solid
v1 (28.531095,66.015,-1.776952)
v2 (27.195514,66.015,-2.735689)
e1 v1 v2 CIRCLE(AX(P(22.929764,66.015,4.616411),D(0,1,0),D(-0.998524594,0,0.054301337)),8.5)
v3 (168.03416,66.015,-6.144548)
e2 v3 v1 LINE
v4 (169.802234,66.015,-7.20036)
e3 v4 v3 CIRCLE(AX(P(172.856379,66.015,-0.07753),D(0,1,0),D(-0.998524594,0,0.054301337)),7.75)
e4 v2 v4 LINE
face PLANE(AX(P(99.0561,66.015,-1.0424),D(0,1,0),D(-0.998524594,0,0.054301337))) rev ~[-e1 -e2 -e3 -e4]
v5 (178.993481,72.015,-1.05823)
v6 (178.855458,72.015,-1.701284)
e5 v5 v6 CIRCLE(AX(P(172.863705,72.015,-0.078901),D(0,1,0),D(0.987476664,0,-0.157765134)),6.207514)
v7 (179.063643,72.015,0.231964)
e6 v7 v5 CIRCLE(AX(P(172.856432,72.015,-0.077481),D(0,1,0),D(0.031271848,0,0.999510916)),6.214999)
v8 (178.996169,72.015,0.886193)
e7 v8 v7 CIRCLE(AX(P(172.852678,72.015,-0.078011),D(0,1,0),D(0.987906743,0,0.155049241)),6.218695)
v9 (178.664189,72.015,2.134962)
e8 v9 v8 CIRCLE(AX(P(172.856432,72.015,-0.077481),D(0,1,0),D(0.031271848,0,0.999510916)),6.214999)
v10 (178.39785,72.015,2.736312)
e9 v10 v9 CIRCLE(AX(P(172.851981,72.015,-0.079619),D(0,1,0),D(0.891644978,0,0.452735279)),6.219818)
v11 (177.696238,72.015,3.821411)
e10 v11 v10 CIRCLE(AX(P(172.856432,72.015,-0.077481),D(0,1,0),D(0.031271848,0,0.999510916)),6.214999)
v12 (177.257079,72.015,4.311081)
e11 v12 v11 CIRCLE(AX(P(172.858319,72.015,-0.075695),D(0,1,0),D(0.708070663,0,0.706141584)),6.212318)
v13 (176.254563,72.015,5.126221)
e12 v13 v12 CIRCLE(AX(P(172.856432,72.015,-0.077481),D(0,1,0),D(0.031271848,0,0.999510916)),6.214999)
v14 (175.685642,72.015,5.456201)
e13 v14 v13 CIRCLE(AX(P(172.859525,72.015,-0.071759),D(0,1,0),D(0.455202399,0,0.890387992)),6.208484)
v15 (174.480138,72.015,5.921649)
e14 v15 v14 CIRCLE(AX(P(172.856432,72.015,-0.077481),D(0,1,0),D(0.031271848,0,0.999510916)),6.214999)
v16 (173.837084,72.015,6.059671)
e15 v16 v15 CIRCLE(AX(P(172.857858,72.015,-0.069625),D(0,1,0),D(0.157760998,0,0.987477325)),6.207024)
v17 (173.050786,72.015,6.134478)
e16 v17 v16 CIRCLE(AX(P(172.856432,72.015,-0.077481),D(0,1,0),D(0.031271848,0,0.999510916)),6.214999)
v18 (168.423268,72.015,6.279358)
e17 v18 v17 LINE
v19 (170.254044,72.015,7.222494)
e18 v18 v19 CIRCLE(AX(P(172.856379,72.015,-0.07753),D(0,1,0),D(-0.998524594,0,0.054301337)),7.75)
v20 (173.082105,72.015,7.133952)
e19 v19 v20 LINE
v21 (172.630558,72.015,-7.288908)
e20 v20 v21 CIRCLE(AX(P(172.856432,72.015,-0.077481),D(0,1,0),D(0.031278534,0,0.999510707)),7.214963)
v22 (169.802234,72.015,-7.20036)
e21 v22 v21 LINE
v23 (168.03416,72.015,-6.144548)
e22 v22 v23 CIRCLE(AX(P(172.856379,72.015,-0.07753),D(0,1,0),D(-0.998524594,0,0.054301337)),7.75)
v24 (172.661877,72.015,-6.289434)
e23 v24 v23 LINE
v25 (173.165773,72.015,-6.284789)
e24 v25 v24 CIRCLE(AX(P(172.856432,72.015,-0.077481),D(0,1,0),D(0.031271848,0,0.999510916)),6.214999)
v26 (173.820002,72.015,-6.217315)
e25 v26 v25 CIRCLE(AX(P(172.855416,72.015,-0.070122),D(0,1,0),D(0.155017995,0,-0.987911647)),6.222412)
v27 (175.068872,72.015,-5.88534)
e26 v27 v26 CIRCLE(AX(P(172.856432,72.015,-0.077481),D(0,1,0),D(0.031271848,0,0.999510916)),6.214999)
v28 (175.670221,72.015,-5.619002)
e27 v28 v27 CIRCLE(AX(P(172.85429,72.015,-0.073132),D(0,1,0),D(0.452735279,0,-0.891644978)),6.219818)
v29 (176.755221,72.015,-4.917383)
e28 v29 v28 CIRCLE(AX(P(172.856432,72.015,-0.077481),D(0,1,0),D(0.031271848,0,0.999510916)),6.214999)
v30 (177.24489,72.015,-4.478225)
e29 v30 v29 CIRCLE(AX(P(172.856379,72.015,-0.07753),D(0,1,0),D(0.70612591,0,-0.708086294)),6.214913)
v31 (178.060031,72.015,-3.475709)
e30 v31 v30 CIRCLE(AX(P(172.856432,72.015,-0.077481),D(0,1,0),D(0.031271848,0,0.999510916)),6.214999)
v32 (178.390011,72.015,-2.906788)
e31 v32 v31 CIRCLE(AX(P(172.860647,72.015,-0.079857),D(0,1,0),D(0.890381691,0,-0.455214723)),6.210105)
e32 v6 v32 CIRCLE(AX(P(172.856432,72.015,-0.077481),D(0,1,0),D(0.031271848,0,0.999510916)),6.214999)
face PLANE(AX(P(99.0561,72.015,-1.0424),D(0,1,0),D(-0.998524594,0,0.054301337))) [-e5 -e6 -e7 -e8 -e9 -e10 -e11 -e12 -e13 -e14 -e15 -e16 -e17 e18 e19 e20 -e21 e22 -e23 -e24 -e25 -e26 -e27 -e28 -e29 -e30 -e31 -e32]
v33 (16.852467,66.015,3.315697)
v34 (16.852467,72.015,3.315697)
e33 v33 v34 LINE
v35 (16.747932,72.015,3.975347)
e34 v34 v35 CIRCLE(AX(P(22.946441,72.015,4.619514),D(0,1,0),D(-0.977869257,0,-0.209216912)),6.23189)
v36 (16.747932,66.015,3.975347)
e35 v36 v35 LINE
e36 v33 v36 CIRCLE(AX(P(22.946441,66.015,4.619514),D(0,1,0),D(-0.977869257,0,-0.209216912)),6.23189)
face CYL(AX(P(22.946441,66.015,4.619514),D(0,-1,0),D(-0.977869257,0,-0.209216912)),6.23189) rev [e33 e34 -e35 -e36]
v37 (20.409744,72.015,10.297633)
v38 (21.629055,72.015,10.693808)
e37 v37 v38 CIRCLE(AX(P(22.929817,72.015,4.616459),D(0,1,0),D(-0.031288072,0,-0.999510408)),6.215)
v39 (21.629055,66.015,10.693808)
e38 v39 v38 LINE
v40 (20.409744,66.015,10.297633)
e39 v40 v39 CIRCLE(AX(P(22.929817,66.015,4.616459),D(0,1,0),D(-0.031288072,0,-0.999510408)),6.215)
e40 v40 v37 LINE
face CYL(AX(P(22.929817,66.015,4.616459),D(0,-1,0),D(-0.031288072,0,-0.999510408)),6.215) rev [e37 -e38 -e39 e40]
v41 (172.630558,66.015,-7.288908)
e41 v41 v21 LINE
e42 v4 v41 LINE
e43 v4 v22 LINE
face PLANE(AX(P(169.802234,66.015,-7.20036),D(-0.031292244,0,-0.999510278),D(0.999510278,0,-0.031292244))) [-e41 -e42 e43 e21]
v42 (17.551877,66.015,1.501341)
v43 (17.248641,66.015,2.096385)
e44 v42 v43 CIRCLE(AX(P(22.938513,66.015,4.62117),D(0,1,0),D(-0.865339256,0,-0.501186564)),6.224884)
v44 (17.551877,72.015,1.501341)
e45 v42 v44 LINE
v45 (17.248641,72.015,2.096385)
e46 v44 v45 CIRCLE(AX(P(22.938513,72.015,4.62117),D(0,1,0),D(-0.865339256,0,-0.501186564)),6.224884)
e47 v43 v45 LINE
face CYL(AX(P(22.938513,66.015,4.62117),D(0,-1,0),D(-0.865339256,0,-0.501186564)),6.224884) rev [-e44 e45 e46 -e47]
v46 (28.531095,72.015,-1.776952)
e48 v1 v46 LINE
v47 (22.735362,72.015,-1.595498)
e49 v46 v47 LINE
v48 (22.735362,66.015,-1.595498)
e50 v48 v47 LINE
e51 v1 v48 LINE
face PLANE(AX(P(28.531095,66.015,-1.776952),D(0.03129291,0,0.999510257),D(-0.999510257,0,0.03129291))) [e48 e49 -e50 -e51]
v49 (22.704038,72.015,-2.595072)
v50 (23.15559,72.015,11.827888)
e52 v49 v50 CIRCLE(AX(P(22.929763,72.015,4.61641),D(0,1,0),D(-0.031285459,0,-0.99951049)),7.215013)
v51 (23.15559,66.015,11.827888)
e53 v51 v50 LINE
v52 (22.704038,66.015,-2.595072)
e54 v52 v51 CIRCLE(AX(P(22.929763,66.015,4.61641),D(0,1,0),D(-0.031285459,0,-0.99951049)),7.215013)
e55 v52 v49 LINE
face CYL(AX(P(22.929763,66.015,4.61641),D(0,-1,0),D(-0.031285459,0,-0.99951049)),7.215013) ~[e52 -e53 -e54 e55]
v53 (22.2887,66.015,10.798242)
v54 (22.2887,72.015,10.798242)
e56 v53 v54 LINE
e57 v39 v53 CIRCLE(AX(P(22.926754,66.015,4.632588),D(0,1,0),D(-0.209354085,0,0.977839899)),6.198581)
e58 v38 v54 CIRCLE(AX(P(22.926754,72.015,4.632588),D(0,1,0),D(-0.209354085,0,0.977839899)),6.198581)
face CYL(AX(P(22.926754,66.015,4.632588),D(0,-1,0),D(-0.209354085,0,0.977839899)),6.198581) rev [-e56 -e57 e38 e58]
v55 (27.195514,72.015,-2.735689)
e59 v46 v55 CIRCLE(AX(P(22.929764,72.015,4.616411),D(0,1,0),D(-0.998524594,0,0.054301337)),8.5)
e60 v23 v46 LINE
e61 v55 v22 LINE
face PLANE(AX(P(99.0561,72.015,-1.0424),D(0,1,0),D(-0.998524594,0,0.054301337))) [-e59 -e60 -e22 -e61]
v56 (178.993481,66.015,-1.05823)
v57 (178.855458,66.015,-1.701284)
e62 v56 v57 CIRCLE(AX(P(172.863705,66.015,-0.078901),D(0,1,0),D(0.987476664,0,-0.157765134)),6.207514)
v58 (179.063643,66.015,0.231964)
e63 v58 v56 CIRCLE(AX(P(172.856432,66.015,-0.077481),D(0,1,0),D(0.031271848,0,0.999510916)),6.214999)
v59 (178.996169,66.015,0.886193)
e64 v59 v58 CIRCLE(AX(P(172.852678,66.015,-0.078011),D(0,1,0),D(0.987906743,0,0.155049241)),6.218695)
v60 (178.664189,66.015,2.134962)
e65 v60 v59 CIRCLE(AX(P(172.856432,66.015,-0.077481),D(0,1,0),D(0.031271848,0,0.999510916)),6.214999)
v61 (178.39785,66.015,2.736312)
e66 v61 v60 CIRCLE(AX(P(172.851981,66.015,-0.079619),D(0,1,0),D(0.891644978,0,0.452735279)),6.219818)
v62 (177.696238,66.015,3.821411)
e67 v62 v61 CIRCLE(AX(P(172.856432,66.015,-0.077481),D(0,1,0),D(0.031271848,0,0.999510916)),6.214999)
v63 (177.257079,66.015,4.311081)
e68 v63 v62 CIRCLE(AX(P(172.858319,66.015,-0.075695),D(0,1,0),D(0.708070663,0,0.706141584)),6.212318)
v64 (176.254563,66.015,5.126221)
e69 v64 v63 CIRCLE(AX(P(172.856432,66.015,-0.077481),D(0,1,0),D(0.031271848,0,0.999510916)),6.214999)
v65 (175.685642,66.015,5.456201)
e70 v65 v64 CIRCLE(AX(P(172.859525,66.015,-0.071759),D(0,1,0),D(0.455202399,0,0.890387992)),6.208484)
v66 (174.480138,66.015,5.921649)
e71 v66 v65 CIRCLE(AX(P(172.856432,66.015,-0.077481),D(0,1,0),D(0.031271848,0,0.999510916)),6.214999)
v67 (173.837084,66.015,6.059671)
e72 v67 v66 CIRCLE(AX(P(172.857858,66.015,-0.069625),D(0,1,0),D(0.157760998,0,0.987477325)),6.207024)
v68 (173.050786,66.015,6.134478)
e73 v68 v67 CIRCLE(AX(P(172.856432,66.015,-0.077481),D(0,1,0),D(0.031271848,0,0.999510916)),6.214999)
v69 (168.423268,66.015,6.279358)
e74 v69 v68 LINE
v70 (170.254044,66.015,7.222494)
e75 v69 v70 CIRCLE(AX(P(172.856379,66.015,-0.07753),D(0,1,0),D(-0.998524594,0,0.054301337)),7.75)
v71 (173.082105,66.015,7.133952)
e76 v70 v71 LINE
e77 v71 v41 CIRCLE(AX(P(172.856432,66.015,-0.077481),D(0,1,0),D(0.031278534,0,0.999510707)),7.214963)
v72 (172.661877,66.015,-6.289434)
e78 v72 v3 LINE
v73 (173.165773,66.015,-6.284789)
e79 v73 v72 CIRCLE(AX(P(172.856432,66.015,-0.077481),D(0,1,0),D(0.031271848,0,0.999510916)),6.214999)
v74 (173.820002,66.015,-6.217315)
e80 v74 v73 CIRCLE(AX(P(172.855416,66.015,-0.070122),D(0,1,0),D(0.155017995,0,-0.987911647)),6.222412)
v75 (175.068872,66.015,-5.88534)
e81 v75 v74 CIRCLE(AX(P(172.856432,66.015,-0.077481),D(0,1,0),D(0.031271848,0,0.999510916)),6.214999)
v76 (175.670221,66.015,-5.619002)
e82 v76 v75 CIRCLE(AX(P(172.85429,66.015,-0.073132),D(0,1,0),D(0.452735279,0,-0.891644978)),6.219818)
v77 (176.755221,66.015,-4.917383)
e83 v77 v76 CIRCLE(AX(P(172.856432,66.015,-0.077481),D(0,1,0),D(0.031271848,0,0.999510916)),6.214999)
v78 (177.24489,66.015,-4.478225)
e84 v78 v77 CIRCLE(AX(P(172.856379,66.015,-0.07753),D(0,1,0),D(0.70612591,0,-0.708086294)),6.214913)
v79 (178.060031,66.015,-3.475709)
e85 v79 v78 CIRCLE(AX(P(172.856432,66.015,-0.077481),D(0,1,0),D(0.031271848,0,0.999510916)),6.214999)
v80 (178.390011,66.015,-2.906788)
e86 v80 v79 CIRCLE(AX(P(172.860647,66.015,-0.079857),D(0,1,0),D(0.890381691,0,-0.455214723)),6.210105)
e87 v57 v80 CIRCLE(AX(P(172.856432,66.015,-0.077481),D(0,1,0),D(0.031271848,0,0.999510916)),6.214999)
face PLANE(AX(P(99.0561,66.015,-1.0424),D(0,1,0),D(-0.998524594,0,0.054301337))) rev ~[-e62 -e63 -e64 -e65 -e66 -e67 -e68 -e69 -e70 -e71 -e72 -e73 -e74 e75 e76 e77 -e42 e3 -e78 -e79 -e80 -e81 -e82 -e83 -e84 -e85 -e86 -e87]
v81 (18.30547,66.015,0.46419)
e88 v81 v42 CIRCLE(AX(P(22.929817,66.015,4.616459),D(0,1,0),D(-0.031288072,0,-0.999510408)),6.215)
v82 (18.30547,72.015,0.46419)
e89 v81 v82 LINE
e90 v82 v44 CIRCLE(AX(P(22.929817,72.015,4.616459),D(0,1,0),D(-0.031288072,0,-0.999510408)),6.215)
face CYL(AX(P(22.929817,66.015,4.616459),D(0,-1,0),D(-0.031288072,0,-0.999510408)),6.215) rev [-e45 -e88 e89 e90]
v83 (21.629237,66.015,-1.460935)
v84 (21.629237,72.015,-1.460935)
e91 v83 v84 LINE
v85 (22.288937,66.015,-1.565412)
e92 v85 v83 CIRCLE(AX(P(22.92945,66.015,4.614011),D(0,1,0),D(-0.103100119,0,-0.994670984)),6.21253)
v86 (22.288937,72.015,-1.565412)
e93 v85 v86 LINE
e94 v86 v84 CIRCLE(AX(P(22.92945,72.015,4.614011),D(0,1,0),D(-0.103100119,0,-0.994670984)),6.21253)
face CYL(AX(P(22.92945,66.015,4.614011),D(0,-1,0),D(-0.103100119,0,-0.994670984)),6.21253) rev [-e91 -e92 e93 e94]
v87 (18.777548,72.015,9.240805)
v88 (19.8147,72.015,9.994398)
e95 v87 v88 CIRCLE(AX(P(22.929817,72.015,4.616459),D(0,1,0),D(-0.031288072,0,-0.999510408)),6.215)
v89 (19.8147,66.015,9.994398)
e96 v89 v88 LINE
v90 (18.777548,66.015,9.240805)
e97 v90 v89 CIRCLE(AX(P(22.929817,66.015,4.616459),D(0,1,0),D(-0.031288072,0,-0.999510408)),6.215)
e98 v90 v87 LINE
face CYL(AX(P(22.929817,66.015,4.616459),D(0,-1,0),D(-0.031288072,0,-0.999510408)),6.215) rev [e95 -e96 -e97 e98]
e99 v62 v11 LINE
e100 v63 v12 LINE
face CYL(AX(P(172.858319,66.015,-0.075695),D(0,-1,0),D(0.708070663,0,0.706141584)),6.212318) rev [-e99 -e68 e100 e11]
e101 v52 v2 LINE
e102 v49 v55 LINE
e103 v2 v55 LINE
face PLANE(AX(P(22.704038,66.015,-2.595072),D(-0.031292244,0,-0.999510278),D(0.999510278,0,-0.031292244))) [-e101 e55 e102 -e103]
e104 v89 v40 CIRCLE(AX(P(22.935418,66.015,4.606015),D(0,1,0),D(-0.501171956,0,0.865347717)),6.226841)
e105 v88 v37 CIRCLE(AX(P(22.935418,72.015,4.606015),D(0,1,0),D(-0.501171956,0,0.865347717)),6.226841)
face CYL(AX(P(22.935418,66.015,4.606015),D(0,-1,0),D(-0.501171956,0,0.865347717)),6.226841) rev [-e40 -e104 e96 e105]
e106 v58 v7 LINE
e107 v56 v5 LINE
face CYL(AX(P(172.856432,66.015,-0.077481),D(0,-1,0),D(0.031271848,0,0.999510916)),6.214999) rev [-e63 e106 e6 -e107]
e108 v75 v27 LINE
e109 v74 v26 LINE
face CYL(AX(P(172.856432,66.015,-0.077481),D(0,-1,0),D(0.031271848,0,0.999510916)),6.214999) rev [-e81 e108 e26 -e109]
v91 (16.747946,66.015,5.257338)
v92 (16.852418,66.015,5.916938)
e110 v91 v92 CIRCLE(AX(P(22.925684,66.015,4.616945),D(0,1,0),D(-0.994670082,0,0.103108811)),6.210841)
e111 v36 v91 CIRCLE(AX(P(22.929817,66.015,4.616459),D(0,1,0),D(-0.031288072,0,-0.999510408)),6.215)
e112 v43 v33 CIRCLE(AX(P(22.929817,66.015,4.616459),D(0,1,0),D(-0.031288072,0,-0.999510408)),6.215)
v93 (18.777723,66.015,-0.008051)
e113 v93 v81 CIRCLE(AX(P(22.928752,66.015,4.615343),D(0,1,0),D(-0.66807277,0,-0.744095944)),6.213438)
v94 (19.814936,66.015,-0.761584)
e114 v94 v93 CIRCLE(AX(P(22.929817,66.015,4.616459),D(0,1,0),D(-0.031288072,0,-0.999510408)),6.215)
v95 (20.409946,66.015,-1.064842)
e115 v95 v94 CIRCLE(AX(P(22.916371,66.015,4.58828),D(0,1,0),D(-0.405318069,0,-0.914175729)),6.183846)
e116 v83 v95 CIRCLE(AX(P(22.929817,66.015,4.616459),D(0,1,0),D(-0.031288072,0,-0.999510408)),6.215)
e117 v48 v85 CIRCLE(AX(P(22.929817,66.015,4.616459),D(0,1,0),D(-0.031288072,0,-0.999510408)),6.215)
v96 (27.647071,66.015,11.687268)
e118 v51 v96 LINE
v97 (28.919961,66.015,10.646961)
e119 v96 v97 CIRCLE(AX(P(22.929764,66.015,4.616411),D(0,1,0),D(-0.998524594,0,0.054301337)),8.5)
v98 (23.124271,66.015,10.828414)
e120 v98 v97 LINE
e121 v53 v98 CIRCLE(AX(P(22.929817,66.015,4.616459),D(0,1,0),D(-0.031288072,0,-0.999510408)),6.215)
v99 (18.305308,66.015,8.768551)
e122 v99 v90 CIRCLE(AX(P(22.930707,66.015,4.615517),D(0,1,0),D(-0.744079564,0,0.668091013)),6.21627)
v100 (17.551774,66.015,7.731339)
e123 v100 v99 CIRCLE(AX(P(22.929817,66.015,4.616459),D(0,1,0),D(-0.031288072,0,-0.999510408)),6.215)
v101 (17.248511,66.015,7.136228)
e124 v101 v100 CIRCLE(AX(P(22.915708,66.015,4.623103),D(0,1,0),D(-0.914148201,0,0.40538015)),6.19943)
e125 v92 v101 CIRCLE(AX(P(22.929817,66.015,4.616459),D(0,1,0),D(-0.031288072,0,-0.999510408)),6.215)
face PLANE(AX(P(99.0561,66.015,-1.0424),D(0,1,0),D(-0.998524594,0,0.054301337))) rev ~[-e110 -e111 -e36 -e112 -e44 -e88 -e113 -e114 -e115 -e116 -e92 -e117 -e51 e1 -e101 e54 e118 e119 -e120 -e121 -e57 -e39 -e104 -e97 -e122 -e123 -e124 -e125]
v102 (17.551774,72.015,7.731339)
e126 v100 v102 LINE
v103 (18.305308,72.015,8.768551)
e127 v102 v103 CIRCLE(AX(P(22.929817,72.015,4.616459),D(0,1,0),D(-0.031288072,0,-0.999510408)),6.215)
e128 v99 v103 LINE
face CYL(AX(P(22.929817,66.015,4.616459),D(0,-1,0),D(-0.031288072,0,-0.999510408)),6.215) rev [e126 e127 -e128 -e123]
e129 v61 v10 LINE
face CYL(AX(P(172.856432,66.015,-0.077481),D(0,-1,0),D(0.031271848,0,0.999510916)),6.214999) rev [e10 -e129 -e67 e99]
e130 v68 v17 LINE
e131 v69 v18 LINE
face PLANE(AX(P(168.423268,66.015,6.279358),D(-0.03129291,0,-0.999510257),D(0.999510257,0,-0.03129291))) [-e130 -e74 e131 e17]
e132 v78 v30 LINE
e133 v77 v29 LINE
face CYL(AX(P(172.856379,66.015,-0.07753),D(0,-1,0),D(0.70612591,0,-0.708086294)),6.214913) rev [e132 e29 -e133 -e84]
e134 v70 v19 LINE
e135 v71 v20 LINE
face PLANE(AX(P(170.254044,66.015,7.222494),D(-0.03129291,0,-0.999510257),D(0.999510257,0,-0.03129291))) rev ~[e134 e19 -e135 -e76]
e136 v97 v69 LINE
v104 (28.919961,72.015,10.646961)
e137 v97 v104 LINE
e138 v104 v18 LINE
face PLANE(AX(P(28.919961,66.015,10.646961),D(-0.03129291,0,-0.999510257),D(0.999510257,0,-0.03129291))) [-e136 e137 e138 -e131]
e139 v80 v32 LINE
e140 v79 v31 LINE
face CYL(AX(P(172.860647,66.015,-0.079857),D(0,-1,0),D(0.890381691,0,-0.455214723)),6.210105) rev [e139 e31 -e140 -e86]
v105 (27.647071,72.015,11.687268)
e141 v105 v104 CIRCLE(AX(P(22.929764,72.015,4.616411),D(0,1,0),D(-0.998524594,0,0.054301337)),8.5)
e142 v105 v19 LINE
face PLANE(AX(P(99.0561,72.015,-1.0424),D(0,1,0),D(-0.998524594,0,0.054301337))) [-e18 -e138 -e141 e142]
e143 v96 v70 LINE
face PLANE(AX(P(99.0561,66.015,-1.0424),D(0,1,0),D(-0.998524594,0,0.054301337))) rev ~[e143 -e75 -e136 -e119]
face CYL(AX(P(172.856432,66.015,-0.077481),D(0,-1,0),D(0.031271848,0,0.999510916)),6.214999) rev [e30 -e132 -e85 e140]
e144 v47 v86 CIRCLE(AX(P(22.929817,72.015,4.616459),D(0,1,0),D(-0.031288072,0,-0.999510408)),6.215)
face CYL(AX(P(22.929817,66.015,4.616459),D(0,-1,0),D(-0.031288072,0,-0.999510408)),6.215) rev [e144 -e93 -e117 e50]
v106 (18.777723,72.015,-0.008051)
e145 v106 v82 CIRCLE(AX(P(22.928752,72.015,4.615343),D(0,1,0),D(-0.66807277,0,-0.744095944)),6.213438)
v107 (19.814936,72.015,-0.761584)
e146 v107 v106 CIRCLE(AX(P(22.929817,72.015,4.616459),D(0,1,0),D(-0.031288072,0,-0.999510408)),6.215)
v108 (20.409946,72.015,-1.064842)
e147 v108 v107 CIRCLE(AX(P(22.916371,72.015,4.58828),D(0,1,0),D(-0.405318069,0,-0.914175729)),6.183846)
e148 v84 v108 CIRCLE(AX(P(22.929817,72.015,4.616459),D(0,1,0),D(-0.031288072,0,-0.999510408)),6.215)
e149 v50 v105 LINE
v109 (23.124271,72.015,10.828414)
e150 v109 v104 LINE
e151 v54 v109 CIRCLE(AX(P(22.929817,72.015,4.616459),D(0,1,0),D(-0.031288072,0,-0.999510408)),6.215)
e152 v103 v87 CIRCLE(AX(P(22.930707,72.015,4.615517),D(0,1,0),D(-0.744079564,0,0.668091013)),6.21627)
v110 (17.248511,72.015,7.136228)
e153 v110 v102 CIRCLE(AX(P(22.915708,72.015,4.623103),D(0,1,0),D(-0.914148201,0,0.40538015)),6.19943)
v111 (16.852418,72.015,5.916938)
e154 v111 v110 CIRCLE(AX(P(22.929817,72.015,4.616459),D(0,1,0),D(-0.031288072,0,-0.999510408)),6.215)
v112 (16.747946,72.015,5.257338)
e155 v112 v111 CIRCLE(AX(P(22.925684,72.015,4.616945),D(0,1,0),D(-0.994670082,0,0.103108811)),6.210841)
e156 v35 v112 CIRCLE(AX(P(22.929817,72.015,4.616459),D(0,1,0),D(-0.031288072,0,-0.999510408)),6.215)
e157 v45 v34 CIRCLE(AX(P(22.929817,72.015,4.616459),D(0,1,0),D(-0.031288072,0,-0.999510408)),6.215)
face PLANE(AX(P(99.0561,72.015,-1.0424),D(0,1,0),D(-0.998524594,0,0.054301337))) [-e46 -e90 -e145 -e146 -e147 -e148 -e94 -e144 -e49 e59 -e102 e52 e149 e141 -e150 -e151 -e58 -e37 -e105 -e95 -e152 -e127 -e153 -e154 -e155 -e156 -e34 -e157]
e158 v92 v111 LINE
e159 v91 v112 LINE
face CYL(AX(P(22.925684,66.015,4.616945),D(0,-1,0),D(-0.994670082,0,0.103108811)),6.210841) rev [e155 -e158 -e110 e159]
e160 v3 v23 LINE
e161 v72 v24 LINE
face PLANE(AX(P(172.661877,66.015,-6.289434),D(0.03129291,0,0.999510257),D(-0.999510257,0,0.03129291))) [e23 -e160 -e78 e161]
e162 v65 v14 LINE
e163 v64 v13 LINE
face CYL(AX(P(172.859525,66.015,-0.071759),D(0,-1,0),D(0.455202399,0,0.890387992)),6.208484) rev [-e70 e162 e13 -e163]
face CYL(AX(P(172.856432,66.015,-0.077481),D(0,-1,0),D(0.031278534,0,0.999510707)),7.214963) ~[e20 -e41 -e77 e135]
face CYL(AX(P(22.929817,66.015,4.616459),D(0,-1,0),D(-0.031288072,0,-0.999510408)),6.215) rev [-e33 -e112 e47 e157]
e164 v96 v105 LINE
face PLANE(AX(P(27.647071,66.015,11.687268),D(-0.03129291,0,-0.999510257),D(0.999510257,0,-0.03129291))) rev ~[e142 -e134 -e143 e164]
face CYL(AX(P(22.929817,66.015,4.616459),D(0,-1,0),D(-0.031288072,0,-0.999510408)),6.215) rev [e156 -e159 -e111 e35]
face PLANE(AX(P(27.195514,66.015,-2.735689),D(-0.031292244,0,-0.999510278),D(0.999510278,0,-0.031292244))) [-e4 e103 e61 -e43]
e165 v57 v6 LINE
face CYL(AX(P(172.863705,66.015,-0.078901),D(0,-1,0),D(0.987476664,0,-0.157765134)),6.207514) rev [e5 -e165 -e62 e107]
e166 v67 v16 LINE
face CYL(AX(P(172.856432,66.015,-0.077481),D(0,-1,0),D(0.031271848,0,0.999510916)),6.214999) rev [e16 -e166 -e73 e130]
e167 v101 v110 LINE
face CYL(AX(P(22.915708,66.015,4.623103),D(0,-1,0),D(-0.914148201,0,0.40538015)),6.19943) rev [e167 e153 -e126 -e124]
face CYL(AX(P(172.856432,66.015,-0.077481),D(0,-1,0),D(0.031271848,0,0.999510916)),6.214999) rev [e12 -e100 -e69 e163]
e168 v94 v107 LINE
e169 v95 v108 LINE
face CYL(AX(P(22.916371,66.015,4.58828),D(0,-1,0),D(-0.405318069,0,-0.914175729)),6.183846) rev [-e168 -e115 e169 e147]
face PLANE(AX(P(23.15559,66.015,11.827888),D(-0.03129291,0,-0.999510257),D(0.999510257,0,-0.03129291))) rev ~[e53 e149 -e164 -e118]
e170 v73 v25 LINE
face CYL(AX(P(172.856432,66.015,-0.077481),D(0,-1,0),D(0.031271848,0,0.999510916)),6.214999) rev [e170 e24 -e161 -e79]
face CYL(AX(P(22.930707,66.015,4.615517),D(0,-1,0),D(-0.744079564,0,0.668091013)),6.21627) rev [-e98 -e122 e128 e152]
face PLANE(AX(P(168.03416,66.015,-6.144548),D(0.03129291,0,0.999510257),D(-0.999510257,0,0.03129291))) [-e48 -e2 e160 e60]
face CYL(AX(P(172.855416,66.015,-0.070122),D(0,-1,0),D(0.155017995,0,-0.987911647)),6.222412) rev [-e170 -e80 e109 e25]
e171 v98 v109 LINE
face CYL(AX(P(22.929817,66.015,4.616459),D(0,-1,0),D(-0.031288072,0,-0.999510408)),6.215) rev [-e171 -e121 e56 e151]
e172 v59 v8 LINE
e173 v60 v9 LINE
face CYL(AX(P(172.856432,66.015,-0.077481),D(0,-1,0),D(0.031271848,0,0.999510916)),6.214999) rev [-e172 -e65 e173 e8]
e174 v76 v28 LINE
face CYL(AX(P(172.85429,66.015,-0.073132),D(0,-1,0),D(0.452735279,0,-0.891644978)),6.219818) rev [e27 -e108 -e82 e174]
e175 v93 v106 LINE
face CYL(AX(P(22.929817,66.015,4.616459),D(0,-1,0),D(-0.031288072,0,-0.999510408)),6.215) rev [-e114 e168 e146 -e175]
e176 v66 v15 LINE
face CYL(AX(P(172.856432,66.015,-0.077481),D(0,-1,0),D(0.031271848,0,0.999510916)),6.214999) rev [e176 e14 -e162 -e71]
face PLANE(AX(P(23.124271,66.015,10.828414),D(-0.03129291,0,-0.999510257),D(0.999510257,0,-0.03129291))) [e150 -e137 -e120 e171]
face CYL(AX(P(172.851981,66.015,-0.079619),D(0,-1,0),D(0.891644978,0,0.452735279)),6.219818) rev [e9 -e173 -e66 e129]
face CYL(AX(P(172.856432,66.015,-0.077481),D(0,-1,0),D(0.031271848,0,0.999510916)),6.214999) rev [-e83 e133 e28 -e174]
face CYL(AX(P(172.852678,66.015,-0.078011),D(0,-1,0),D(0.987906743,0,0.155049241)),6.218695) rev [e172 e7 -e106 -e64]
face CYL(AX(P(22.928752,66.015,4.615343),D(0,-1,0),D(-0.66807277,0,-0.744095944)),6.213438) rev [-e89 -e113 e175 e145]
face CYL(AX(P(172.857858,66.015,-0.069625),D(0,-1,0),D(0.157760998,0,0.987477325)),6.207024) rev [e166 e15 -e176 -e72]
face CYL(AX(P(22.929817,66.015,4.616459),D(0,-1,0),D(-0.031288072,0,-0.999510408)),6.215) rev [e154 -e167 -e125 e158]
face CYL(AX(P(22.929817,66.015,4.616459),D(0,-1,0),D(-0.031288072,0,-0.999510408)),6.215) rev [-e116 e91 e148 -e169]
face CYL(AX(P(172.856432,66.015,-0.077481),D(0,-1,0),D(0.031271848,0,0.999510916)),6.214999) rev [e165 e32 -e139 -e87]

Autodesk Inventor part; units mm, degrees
ref_plane "YZ Plane" through (0, 0, 0) normal (1, 0, 0) x (0, 1, 0)
ref_plane "XZ Plane" through (0, 0, 0) normal (0, 1, 0) x (-1, 0, 0)
ref_plane "Work Plane1" through (99.0561, 66.015, -1.0424) normal (0, 1, 0) x (-0.9985, 0, 0.0543)
sketch "Sketch1" plane through (99.0561, 66.015, -1.0424) normal (0, 1, 0) x (-0.9985, 0, 0.0543)
  circle A0 centre (-73.639, 4.9709) radius 7.75 projected
  arc A1 (-74.285, 11.1523) -> (-74.9346, 11.0494) centre (-73.639, 4.9709) ccw projected
  line L0 (-74.039, 10.5582) -> (-74.285, 11.1523) projected
  line L1 (-73.239, 10.5582) -> (-74.039, 10.5582) projected
  line L2 (-72.9929, 11.1523) -> (-73.239, 10.5582) projected
  arc A2 (-72.3433, 11.0494) -> (-72.9929, 11.1523) centre (-73.639, 4.9709) ccw projected
  line L3 (-72.2928, 10.4083) -> (-72.3433, 11.0494) projected
  line L4 (-71.532, 10.1611) -> (-72.2928, 10.4083) projected
  line L5 (-71.1144, 10.6501) -> (-71.532, 10.1611) projected
  arc A3 (-70.5284, 10.3515) -> (-71.1144, 10.6501) centre (-73.639, 4.9709) ccw projected
  line L6 (-70.6785, 9.7262) -> (-70.5284, 10.3515) projected
  line L7 (-70.0313, 9.256) -> (-70.6785, 9.7262) projected
  line L8 (-69.483, 9.592) -> (-70.0313, 9.256) projected
  arc A4 (-69.0179, 9.1269) -> (-69.483, 9.592) centre (-73.639, 4.9709) ccw projected
  line L9 (-69.3539, 8.5786) -> (-69.0179, 9.1269) projected
  line L10 (-68.8837, 7.9314) -> (-69.3539, 8.5786) projected
  line L11 (-68.2584, 8.0815) -> (-68.8837, 7.9314) projected
  arc A5 (-67.9598, 7.4955) -> (-68.2584, 8.0815) centre (-73.639, 4.9709) ccw projected
  line L12 (-68.4488, 7.0779) -> (-67.9598, 7.4955) projected
  line L13 (-68.2016, 6.3171) -> (-68.4488, 7.0779) projected
  line L14 (-67.5605, 6.2666) -> (-68.2016, 6.3171) projected
  arc A6 (-67.4576, 5.617) -> (-67.5605, 6.2666) centre (-73.639, 4.9709) ccw projected
  line L15 (-68.0517, 5.3709) -> (-67.4576, 5.617) projected
  line L16 (-68.0517, 4.5709) -> (-68.0517, 5.3709) projected
  line L17 (-67.4576, 4.3249) -> (-68.0517, 4.5709) projected
  arc A7 (-67.5605, 3.6753) -> (-67.4576, 4.3249) centre (-73.639, 4.9709) ccw projected
  line L18 (-68.2016, 3.6248) -> (-67.5605, 3.6753) projected
  line L19 (-68.4488, 2.864) -> (-68.2016, 3.6248) projected
  line L20 (-67.9598, 2.4463) -> (-68.4488, 2.864) projected
  arc A8 (-68.2584, 1.8603) -> (-67.9598, 2.4463) centre (-73.639, 4.9709) ccw projected
  line L21 (-68.8837, 2.0105) -> (-68.2584, 1.8603) projected
  line L22 (-69.3539, 1.3632) -> (-68.8837, 2.0105) projected
  line L23 (-69.0179, 0.815) -> (-69.3539, 1.3632) projected
  arc A9 (-69.483, 0.3499) -> (-69.0179, 0.815) centre (-73.639, 4.9709) ccw projected
  line L24 (-70.0313, 0.6859) -> (-69.483, 0.3499) projected
  line L25 (-70.6785, 0.2157) -> (-70.0313, 0.6859) projected
  line L26 (-70.5284, -0.4096) -> (-70.6785, 0.2157) projected
  arc A10 (-71.1144, -0.7082) -> (-70.5284, -0.4096) centre (-73.639, 4.9709) ccw projected
  line L27 (-71.532, -0.2192) -> (-71.1144, -0.7082) projected
  line L28 (-72.2928, -0.4664) -> (-71.532, -0.2192) projected
  line L29 (-72.3433, -1.1075) -> (-72.2928, -0.4664) projected
  arc A11 (-72.9929, -1.2104) -> (-72.3433, -1.1075) centre (-73.639, 4.9709) ccw projected
  line L30 (-73.239, -0.6163) -> (-72.9929, -1.2104) projected
  line L31 (-74.039, -0.6163) -> (-73.239, -0.6163) projected
  line L32 (-74.285, -1.2104) -> (-74.039, -0.6163) projected
  arc A12 (-74.9346, -1.1075) -> (-74.285, -1.2104) centre (-73.639, 4.9709) ccw projected
  line L33 (-74.9851, -0.4664) -> (-74.9346, -1.1075) projected
  line L34 (-75.7459, -0.2192) -> (-74.9851, -0.4664) projected
  line L35 (-76.1636, -0.7082) -> (-75.7459, -0.2192) projected
  arc A13 (-76.7496, -0.4096) -> (-76.1636, -0.7082) centre (-73.639, 4.9709) ccw projected
  line L36 (-76.5994, 0.2157) -> (-76.7496, -0.4096) projected
  line L37 (-77.2467, 0.6859) -> (-76.5994, 0.2157) projected
  line L38 (-77.7949, 0.3499) -> (-77.2467, 0.6859) projected
  arc A14 (-78.26, 0.815) -> (-77.7949, 0.3499) centre (-73.639, 4.9709) ccw projected
  line L39 (-77.924, 1.3632) -> (-78.26, 0.815) projected
  line L40 (-78.3942, 2.0105) -> (-77.924, 1.3632) projected
  line L41 (-79.0195, 1.8603) -> (-78.3942, 2.0105) projected
  arc A15 (-79.3181, 2.4463) -> (-79.0195, 1.8603) centre (-73.639, 4.9709) ccw projected
  line L42 (-78.8291, 2.864) -> (-79.3181, 2.4463) projected
  line L43 (-79.0763, 3.6248) -> (-78.8291, 2.864) projected
  line L44 (-79.7174, 3.6753) -> (-79.0763, 3.6248) projected
  arc A16 (-79.8203, 4.3249) -> (-79.7174, 3.6753) centre (-73.639, 4.9709) ccw projected
  line L45 (-79.2262, 4.5709) -> (-79.8203, 4.3249) projected
  line L46 (-79.2262, 5.3709) -> (-79.2262, 4.5709) projected
  line L47 (-79.8203, 5.617) -> (-79.2262, 5.3709) projected
  arc A17 (-79.7174, 6.2666) -> (-79.8203, 5.617) centre (-73.639, 4.9709) ccw projected
  line L48 (-79.0763, 6.3171) -> (-79.7174, 6.2666) projected
  line L49 (-78.8291, 7.0779) -> (-79.0763, 6.3171) projected
  line L50 (-79.3181, 7.4955) -> (-78.8291, 7.0779) projected
  arc A18 (-79.0195, 8.0815) -> (-79.3181, 7.4955) centre (-73.639, 4.9709) ccw projected
  line L51 (-78.3942, 7.9314) -> (-79.0195, 8.0815) projected
  line L52 (-77.924, 8.5786) -> (-78.3942, 7.9314) projected
  line L53 (-78.26, 9.1269) -> (-77.924, 8.5786) projected
  arc A19 (-77.7949, 9.592) -> (-78.26, 9.1269) centre (-73.639, 4.9709) ccw projected
  line L54 (-77.2467, 9.256) -> (-77.7949, 9.592) projected
  line L55 (-76.5994, 9.7262) -> (-77.2467, 9.256) projected
  line L56 (-76.7496, 10.3515) -> (-76.5994, 9.7262) projected
  arc A20 (-76.1636, 10.6501) -> (-76.7496, 10.3515) centre (-73.639, 4.9709) ccw projected
  line L57 (-75.7459, 10.1611) -> (-76.1636, 10.6501) projected
  line L58 (-74.9851, 10.4083) -> (-75.7459, 10.1611) projected
  line L59 (-74.9346, 11.0494) -> (-74.9851, 10.4083) projected
  circle A21 centre (76.3213, 1.5167) radius 8.5 projected
  arc A22 (76.017, 7.7243) -> (75.3526, 7.6558) centre (76.3213, 1.5167) ccw projected
  line L60 (76.226, 7.1302) -> (76.017, 7.7243) projected
  line L61 (77.0249, 7.0867) -> (76.226, 7.1302) projected
  line L62 (77.2971, 7.6546) -> (77.0249, 7.0867) projected
  arc A23 (77.9501, 7.5145) -> (77.2971, 7.6546) centre (76.3213, 1.5167) ccw projected
  line L63 (77.9654, 6.8849) -> (77.9501, 7.5145) projected
  line L64 (78.7116, 6.5967) -> (77.9654, 6.8849) projected
  line L65 (79.1461, 7.0527) -> (78.7116, 6.5967) projected
  arc A24 (79.7238, 6.7176) -> (79.1461, 7.0527) centre (76.3213, 1.5167) ccw projected
  line L66 (79.5437, 6.1141) -> (79.7238, 6.7176) projected
  line L67 (80.1645, 5.6094) -> (79.5437, 6.1141) projected
  line L68 (80.7185, 5.9088) -> (80.1645, 5.6094) projected
  arc A25 (81.1644, 5.4116) -> (80.7185, 5.9088) centre (76.3213, 1.5167) ccw projected
  line L69 (80.8067, 4.8933) -> (81.1644, 5.4116) projected
  line L70 (81.2411, 4.2215) -> (80.8067, 4.8933) projected
  line L71 (81.8605, 4.335) -> (81.2411, 4.2215) projected
  arc A26 (82.131, 3.7243) -> (81.8605, 4.335) centre (76.3213, 1.5167) ccw projected
  line L72 (81.6306, 3.3419) -> (82.131, 3.7243) projected
  line L73 (81.8361, 2.5688) -> (81.6306, 3.3419) projected
  line L74 (82.4603, 2.4853) -> (81.8361, 2.5688) projected
  arc A27 (82.5288, 1.821) -> (82.4603, 2.4853) centre (76.3213, 1.5167) ccw projected
  line L75 (81.9347, 1.6119) -> (82.5288, 1.821) projected
  line L76 (81.8913, 0.8131) -> (81.9347, 1.6119) projected
  line L77 (82.4592, 0.5409) -> (81.8913, 0.8131) projected
  arc A28 (82.319, -0.1121) -> (82.4592, 0.5409) centre (76.3213, 1.5167) ccw projected
  line L78 (81.6894, -0.1274) -> (82.319, -0.1121) projected
  line L79 (81.4012, -0.8737) -> (81.6894, -0.1274) projected
  line L80 (81.8572, -1.3081) -> (81.4012, -0.8737) projected
  arc A29 (81.5221, -1.8858) -> (81.8572, -1.3081) centre (76.3213, 1.5167) ccw projected
  line L81 (80.9186, -1.7058) -> (81.5221, -1.8858) projected
  line L82 (80.4139, -2.3265) -> (80.9186, -1.7058) projected
  line L83 (80.7133, -2.8805) -> (80.4139, -2.3265) projected
  arc A30 (80.2161, -3.3264) -> (80.7133, -2.8805) centre (76.3213, 1.5167) ccw projected
  line L84 (79.6978, -2.9687) -> (80.2161, -3.3264) projected
  line L85 (79.026, -3.4031) -> (79.6978, -2.9687) projected
  line L86 (79.1395, -4.0225) -> (79.026, -3.4031) projected
  arc A31 (78.5289, -4.293) -> (79.1395, -4.0225) centre (76.3213, 1.5167) ccw projected
  line L87 (78.1465, -3.7926) -> (78.5289, -4.293) projected
  line L88 (77.3733, -3.9981) -> (78.1465, -3.7926) projected
  line L89 (77.2899, -4.6223) -> (77.3733, -3.9981) projected
  arc A32 (76.6255, -4.6908) -> (77.2899, -4.6223) centre (76.3213, 1.5167) ccw projected
  line L90 (76.4165, -4.0967) -> (76.6255, -4.6908) projected
  line L91 (75.6177, -4.0533) -> (76.4165, -4.0967) projected
  line L92 (75.3454, -4.6212) -> (75.6177, -4.0533) projected
  arc A33 (74.6924, -4.481) -> (75.3454, -4.6212) centre (76.3213, 1.5167) ccw projected
  line L93 (74.6772, -3.8514) -> (74.6924, -4.481) projected
  line L94 (73.9309, -3.5632) -> (74.6772, -3.8514) projected
  line L95 (73.4964, -4.0192) -> (73.9309, -3.5632) projected
  arc A34 (72.9187, -3.6841) -> (73.4964, -4.0192) centre (76.3213, 1.5167) ccw projected
  line L96 (73.0988, -3.0806) -> (72.9187, -3.6841) projected
  line L97 (72.4781, -2.5759) -> (73.0988, -3.0806) projected
  line L98 (71.924, -2.8754) -> (72.4781, -2.5759) projected
  arc A35 (71.4781, -2.3781) -> (71.924, -2.8754) centre (76.3213, 1.5167) ccw projected
  line L99 (71.8358, -1.8598) -> (71.4781, -2.3781) projected
  line L100 (71.4015, -1.188) -> (71.8358, -1.8598) projected
  line L101 (70.782, -1.3016) -> (71.4015, -1.188) projected
  arc A36 (70.5116, -0.6909) -> (70.782, -1.3016) centre (76.3213, 1.5167) ccw projected
  line L102 (71.012, -0.3085) -> (70.5116, -0.6909) projected
  line L103 (70.8064, 0.4647) -> (71.012, -0.3085) projected
  line L104 (70.1822, 0.5481) -> (70.8064, 0.4647) projected
  arc A37 (70.1137, 1.2125) -> (70.1822, 0.5481) centre (76.3213, 1.5167) ccw projected
  line L105 (70.7078, 1.4215) -> (70.1137, 1.2125) projected
  line L106 (70.7513, 2.2203) -> (70.7078, 1.4215) projected
  line L107 (70.1834, 2.4926) -> (70.7513, 2.2203) projected
  arc A38 (70.3235, 3.1456) -> (70.1834, 2.4926) centre (76.3213, 1.5167) ccw projected
  line L108 (70.9531, 3.1608) -> (70.3235, 3.1456) projected
  line L109 (71.2413, 3.9071) -> (70.9531, 3.1608) projected
  line L110 (70.7853, 4.3415) -> (71.2413, 3.9071) projected
  arc A39 (71.1204, 4.9193) -> (70.7853, 4.3415) centre (76.3213, 1.5167) ccw projected
  line L111 (71.7239, 4.7392) -> (71.1204, 4.9193) projected
  line L112 (72.2286, 5.3599) -> (71.7239, 4.7392) projected
  line L113 (71.9292, 5.914) -> (72.2286, 5.3599) projected
  arc A40 (72.4264, 6.3599) -> (71.9292, 5.914) centre (76.3213, 1.5167) ccw projected
  line L114 (72.9447, 6.0021) -> (72.4264, 6.3599) projected
  line L115 (73.6165, 6.4365) -> (72.9447, 6.0021) projected
  line L116 (73.503, 7.056) -> (73.6165, 6.4365) projected
  arc A41 (74.1136, 7.3264) -> (73.503, 7.056) centre (76.3213, 1.5167) ccw projected
  line L117 (74.496, 6.826) -> (74.1136, 7.3264) projected
  line L118 (75.2692, 7.0315) -> (74.496, 6.826) projected
  line L119 (75.3526, 7.6558) -> (75.2692, 7.0315) projected
  line L120 (76.1551, -5.6964) -> (-73.8051, -2.2421)
  line L121 (76.4874, 8.7298) -> (-73.4728, 12.184)
  arc A42 (76.1551, -5.6964) -> (76.4874, 8.7298) centre (76.3213, 1.5167) ccw
  arc A43 (-73.4958, 11.1843) -> (-73.7821, -1.2424) centre (-73.639, 4.9709) ccw
  arc A44 (-73.4728, 12.184) -> (-73.8051, -2.2421) centre (-73.639, 4.9709) ccw
  line L122 (-73.7821, -1.2424) -> (76.1781, -4.6966)
  arc A45 (76.1781, -4.6966) -> (76.017, 7.7243) centre (76.3213, 1.5167) ccw
  line L123 (76.4644, 7.7301) -> (-73.4958, 11.1843)
  point P0 (98.9665, -4.3398)
  dimension "d1" = 1
  dimension "d2" = 1
extrude "Extrusion1" add sketch "Sketch1" along normal blind 6 contours L123 A43 A1 A20 A19 A18 A17 A16 A15 A14 A13 A12 L122 A0 L120 A44 L121 | A0 L121 A21 L123 | L122 A21 L120 A0 | A21 L121 A42 L120 L122 A45 A32 A31 A30 A29 A28 A27 A26 A25 A24 A23 L123
properties part number "Tandrem"
